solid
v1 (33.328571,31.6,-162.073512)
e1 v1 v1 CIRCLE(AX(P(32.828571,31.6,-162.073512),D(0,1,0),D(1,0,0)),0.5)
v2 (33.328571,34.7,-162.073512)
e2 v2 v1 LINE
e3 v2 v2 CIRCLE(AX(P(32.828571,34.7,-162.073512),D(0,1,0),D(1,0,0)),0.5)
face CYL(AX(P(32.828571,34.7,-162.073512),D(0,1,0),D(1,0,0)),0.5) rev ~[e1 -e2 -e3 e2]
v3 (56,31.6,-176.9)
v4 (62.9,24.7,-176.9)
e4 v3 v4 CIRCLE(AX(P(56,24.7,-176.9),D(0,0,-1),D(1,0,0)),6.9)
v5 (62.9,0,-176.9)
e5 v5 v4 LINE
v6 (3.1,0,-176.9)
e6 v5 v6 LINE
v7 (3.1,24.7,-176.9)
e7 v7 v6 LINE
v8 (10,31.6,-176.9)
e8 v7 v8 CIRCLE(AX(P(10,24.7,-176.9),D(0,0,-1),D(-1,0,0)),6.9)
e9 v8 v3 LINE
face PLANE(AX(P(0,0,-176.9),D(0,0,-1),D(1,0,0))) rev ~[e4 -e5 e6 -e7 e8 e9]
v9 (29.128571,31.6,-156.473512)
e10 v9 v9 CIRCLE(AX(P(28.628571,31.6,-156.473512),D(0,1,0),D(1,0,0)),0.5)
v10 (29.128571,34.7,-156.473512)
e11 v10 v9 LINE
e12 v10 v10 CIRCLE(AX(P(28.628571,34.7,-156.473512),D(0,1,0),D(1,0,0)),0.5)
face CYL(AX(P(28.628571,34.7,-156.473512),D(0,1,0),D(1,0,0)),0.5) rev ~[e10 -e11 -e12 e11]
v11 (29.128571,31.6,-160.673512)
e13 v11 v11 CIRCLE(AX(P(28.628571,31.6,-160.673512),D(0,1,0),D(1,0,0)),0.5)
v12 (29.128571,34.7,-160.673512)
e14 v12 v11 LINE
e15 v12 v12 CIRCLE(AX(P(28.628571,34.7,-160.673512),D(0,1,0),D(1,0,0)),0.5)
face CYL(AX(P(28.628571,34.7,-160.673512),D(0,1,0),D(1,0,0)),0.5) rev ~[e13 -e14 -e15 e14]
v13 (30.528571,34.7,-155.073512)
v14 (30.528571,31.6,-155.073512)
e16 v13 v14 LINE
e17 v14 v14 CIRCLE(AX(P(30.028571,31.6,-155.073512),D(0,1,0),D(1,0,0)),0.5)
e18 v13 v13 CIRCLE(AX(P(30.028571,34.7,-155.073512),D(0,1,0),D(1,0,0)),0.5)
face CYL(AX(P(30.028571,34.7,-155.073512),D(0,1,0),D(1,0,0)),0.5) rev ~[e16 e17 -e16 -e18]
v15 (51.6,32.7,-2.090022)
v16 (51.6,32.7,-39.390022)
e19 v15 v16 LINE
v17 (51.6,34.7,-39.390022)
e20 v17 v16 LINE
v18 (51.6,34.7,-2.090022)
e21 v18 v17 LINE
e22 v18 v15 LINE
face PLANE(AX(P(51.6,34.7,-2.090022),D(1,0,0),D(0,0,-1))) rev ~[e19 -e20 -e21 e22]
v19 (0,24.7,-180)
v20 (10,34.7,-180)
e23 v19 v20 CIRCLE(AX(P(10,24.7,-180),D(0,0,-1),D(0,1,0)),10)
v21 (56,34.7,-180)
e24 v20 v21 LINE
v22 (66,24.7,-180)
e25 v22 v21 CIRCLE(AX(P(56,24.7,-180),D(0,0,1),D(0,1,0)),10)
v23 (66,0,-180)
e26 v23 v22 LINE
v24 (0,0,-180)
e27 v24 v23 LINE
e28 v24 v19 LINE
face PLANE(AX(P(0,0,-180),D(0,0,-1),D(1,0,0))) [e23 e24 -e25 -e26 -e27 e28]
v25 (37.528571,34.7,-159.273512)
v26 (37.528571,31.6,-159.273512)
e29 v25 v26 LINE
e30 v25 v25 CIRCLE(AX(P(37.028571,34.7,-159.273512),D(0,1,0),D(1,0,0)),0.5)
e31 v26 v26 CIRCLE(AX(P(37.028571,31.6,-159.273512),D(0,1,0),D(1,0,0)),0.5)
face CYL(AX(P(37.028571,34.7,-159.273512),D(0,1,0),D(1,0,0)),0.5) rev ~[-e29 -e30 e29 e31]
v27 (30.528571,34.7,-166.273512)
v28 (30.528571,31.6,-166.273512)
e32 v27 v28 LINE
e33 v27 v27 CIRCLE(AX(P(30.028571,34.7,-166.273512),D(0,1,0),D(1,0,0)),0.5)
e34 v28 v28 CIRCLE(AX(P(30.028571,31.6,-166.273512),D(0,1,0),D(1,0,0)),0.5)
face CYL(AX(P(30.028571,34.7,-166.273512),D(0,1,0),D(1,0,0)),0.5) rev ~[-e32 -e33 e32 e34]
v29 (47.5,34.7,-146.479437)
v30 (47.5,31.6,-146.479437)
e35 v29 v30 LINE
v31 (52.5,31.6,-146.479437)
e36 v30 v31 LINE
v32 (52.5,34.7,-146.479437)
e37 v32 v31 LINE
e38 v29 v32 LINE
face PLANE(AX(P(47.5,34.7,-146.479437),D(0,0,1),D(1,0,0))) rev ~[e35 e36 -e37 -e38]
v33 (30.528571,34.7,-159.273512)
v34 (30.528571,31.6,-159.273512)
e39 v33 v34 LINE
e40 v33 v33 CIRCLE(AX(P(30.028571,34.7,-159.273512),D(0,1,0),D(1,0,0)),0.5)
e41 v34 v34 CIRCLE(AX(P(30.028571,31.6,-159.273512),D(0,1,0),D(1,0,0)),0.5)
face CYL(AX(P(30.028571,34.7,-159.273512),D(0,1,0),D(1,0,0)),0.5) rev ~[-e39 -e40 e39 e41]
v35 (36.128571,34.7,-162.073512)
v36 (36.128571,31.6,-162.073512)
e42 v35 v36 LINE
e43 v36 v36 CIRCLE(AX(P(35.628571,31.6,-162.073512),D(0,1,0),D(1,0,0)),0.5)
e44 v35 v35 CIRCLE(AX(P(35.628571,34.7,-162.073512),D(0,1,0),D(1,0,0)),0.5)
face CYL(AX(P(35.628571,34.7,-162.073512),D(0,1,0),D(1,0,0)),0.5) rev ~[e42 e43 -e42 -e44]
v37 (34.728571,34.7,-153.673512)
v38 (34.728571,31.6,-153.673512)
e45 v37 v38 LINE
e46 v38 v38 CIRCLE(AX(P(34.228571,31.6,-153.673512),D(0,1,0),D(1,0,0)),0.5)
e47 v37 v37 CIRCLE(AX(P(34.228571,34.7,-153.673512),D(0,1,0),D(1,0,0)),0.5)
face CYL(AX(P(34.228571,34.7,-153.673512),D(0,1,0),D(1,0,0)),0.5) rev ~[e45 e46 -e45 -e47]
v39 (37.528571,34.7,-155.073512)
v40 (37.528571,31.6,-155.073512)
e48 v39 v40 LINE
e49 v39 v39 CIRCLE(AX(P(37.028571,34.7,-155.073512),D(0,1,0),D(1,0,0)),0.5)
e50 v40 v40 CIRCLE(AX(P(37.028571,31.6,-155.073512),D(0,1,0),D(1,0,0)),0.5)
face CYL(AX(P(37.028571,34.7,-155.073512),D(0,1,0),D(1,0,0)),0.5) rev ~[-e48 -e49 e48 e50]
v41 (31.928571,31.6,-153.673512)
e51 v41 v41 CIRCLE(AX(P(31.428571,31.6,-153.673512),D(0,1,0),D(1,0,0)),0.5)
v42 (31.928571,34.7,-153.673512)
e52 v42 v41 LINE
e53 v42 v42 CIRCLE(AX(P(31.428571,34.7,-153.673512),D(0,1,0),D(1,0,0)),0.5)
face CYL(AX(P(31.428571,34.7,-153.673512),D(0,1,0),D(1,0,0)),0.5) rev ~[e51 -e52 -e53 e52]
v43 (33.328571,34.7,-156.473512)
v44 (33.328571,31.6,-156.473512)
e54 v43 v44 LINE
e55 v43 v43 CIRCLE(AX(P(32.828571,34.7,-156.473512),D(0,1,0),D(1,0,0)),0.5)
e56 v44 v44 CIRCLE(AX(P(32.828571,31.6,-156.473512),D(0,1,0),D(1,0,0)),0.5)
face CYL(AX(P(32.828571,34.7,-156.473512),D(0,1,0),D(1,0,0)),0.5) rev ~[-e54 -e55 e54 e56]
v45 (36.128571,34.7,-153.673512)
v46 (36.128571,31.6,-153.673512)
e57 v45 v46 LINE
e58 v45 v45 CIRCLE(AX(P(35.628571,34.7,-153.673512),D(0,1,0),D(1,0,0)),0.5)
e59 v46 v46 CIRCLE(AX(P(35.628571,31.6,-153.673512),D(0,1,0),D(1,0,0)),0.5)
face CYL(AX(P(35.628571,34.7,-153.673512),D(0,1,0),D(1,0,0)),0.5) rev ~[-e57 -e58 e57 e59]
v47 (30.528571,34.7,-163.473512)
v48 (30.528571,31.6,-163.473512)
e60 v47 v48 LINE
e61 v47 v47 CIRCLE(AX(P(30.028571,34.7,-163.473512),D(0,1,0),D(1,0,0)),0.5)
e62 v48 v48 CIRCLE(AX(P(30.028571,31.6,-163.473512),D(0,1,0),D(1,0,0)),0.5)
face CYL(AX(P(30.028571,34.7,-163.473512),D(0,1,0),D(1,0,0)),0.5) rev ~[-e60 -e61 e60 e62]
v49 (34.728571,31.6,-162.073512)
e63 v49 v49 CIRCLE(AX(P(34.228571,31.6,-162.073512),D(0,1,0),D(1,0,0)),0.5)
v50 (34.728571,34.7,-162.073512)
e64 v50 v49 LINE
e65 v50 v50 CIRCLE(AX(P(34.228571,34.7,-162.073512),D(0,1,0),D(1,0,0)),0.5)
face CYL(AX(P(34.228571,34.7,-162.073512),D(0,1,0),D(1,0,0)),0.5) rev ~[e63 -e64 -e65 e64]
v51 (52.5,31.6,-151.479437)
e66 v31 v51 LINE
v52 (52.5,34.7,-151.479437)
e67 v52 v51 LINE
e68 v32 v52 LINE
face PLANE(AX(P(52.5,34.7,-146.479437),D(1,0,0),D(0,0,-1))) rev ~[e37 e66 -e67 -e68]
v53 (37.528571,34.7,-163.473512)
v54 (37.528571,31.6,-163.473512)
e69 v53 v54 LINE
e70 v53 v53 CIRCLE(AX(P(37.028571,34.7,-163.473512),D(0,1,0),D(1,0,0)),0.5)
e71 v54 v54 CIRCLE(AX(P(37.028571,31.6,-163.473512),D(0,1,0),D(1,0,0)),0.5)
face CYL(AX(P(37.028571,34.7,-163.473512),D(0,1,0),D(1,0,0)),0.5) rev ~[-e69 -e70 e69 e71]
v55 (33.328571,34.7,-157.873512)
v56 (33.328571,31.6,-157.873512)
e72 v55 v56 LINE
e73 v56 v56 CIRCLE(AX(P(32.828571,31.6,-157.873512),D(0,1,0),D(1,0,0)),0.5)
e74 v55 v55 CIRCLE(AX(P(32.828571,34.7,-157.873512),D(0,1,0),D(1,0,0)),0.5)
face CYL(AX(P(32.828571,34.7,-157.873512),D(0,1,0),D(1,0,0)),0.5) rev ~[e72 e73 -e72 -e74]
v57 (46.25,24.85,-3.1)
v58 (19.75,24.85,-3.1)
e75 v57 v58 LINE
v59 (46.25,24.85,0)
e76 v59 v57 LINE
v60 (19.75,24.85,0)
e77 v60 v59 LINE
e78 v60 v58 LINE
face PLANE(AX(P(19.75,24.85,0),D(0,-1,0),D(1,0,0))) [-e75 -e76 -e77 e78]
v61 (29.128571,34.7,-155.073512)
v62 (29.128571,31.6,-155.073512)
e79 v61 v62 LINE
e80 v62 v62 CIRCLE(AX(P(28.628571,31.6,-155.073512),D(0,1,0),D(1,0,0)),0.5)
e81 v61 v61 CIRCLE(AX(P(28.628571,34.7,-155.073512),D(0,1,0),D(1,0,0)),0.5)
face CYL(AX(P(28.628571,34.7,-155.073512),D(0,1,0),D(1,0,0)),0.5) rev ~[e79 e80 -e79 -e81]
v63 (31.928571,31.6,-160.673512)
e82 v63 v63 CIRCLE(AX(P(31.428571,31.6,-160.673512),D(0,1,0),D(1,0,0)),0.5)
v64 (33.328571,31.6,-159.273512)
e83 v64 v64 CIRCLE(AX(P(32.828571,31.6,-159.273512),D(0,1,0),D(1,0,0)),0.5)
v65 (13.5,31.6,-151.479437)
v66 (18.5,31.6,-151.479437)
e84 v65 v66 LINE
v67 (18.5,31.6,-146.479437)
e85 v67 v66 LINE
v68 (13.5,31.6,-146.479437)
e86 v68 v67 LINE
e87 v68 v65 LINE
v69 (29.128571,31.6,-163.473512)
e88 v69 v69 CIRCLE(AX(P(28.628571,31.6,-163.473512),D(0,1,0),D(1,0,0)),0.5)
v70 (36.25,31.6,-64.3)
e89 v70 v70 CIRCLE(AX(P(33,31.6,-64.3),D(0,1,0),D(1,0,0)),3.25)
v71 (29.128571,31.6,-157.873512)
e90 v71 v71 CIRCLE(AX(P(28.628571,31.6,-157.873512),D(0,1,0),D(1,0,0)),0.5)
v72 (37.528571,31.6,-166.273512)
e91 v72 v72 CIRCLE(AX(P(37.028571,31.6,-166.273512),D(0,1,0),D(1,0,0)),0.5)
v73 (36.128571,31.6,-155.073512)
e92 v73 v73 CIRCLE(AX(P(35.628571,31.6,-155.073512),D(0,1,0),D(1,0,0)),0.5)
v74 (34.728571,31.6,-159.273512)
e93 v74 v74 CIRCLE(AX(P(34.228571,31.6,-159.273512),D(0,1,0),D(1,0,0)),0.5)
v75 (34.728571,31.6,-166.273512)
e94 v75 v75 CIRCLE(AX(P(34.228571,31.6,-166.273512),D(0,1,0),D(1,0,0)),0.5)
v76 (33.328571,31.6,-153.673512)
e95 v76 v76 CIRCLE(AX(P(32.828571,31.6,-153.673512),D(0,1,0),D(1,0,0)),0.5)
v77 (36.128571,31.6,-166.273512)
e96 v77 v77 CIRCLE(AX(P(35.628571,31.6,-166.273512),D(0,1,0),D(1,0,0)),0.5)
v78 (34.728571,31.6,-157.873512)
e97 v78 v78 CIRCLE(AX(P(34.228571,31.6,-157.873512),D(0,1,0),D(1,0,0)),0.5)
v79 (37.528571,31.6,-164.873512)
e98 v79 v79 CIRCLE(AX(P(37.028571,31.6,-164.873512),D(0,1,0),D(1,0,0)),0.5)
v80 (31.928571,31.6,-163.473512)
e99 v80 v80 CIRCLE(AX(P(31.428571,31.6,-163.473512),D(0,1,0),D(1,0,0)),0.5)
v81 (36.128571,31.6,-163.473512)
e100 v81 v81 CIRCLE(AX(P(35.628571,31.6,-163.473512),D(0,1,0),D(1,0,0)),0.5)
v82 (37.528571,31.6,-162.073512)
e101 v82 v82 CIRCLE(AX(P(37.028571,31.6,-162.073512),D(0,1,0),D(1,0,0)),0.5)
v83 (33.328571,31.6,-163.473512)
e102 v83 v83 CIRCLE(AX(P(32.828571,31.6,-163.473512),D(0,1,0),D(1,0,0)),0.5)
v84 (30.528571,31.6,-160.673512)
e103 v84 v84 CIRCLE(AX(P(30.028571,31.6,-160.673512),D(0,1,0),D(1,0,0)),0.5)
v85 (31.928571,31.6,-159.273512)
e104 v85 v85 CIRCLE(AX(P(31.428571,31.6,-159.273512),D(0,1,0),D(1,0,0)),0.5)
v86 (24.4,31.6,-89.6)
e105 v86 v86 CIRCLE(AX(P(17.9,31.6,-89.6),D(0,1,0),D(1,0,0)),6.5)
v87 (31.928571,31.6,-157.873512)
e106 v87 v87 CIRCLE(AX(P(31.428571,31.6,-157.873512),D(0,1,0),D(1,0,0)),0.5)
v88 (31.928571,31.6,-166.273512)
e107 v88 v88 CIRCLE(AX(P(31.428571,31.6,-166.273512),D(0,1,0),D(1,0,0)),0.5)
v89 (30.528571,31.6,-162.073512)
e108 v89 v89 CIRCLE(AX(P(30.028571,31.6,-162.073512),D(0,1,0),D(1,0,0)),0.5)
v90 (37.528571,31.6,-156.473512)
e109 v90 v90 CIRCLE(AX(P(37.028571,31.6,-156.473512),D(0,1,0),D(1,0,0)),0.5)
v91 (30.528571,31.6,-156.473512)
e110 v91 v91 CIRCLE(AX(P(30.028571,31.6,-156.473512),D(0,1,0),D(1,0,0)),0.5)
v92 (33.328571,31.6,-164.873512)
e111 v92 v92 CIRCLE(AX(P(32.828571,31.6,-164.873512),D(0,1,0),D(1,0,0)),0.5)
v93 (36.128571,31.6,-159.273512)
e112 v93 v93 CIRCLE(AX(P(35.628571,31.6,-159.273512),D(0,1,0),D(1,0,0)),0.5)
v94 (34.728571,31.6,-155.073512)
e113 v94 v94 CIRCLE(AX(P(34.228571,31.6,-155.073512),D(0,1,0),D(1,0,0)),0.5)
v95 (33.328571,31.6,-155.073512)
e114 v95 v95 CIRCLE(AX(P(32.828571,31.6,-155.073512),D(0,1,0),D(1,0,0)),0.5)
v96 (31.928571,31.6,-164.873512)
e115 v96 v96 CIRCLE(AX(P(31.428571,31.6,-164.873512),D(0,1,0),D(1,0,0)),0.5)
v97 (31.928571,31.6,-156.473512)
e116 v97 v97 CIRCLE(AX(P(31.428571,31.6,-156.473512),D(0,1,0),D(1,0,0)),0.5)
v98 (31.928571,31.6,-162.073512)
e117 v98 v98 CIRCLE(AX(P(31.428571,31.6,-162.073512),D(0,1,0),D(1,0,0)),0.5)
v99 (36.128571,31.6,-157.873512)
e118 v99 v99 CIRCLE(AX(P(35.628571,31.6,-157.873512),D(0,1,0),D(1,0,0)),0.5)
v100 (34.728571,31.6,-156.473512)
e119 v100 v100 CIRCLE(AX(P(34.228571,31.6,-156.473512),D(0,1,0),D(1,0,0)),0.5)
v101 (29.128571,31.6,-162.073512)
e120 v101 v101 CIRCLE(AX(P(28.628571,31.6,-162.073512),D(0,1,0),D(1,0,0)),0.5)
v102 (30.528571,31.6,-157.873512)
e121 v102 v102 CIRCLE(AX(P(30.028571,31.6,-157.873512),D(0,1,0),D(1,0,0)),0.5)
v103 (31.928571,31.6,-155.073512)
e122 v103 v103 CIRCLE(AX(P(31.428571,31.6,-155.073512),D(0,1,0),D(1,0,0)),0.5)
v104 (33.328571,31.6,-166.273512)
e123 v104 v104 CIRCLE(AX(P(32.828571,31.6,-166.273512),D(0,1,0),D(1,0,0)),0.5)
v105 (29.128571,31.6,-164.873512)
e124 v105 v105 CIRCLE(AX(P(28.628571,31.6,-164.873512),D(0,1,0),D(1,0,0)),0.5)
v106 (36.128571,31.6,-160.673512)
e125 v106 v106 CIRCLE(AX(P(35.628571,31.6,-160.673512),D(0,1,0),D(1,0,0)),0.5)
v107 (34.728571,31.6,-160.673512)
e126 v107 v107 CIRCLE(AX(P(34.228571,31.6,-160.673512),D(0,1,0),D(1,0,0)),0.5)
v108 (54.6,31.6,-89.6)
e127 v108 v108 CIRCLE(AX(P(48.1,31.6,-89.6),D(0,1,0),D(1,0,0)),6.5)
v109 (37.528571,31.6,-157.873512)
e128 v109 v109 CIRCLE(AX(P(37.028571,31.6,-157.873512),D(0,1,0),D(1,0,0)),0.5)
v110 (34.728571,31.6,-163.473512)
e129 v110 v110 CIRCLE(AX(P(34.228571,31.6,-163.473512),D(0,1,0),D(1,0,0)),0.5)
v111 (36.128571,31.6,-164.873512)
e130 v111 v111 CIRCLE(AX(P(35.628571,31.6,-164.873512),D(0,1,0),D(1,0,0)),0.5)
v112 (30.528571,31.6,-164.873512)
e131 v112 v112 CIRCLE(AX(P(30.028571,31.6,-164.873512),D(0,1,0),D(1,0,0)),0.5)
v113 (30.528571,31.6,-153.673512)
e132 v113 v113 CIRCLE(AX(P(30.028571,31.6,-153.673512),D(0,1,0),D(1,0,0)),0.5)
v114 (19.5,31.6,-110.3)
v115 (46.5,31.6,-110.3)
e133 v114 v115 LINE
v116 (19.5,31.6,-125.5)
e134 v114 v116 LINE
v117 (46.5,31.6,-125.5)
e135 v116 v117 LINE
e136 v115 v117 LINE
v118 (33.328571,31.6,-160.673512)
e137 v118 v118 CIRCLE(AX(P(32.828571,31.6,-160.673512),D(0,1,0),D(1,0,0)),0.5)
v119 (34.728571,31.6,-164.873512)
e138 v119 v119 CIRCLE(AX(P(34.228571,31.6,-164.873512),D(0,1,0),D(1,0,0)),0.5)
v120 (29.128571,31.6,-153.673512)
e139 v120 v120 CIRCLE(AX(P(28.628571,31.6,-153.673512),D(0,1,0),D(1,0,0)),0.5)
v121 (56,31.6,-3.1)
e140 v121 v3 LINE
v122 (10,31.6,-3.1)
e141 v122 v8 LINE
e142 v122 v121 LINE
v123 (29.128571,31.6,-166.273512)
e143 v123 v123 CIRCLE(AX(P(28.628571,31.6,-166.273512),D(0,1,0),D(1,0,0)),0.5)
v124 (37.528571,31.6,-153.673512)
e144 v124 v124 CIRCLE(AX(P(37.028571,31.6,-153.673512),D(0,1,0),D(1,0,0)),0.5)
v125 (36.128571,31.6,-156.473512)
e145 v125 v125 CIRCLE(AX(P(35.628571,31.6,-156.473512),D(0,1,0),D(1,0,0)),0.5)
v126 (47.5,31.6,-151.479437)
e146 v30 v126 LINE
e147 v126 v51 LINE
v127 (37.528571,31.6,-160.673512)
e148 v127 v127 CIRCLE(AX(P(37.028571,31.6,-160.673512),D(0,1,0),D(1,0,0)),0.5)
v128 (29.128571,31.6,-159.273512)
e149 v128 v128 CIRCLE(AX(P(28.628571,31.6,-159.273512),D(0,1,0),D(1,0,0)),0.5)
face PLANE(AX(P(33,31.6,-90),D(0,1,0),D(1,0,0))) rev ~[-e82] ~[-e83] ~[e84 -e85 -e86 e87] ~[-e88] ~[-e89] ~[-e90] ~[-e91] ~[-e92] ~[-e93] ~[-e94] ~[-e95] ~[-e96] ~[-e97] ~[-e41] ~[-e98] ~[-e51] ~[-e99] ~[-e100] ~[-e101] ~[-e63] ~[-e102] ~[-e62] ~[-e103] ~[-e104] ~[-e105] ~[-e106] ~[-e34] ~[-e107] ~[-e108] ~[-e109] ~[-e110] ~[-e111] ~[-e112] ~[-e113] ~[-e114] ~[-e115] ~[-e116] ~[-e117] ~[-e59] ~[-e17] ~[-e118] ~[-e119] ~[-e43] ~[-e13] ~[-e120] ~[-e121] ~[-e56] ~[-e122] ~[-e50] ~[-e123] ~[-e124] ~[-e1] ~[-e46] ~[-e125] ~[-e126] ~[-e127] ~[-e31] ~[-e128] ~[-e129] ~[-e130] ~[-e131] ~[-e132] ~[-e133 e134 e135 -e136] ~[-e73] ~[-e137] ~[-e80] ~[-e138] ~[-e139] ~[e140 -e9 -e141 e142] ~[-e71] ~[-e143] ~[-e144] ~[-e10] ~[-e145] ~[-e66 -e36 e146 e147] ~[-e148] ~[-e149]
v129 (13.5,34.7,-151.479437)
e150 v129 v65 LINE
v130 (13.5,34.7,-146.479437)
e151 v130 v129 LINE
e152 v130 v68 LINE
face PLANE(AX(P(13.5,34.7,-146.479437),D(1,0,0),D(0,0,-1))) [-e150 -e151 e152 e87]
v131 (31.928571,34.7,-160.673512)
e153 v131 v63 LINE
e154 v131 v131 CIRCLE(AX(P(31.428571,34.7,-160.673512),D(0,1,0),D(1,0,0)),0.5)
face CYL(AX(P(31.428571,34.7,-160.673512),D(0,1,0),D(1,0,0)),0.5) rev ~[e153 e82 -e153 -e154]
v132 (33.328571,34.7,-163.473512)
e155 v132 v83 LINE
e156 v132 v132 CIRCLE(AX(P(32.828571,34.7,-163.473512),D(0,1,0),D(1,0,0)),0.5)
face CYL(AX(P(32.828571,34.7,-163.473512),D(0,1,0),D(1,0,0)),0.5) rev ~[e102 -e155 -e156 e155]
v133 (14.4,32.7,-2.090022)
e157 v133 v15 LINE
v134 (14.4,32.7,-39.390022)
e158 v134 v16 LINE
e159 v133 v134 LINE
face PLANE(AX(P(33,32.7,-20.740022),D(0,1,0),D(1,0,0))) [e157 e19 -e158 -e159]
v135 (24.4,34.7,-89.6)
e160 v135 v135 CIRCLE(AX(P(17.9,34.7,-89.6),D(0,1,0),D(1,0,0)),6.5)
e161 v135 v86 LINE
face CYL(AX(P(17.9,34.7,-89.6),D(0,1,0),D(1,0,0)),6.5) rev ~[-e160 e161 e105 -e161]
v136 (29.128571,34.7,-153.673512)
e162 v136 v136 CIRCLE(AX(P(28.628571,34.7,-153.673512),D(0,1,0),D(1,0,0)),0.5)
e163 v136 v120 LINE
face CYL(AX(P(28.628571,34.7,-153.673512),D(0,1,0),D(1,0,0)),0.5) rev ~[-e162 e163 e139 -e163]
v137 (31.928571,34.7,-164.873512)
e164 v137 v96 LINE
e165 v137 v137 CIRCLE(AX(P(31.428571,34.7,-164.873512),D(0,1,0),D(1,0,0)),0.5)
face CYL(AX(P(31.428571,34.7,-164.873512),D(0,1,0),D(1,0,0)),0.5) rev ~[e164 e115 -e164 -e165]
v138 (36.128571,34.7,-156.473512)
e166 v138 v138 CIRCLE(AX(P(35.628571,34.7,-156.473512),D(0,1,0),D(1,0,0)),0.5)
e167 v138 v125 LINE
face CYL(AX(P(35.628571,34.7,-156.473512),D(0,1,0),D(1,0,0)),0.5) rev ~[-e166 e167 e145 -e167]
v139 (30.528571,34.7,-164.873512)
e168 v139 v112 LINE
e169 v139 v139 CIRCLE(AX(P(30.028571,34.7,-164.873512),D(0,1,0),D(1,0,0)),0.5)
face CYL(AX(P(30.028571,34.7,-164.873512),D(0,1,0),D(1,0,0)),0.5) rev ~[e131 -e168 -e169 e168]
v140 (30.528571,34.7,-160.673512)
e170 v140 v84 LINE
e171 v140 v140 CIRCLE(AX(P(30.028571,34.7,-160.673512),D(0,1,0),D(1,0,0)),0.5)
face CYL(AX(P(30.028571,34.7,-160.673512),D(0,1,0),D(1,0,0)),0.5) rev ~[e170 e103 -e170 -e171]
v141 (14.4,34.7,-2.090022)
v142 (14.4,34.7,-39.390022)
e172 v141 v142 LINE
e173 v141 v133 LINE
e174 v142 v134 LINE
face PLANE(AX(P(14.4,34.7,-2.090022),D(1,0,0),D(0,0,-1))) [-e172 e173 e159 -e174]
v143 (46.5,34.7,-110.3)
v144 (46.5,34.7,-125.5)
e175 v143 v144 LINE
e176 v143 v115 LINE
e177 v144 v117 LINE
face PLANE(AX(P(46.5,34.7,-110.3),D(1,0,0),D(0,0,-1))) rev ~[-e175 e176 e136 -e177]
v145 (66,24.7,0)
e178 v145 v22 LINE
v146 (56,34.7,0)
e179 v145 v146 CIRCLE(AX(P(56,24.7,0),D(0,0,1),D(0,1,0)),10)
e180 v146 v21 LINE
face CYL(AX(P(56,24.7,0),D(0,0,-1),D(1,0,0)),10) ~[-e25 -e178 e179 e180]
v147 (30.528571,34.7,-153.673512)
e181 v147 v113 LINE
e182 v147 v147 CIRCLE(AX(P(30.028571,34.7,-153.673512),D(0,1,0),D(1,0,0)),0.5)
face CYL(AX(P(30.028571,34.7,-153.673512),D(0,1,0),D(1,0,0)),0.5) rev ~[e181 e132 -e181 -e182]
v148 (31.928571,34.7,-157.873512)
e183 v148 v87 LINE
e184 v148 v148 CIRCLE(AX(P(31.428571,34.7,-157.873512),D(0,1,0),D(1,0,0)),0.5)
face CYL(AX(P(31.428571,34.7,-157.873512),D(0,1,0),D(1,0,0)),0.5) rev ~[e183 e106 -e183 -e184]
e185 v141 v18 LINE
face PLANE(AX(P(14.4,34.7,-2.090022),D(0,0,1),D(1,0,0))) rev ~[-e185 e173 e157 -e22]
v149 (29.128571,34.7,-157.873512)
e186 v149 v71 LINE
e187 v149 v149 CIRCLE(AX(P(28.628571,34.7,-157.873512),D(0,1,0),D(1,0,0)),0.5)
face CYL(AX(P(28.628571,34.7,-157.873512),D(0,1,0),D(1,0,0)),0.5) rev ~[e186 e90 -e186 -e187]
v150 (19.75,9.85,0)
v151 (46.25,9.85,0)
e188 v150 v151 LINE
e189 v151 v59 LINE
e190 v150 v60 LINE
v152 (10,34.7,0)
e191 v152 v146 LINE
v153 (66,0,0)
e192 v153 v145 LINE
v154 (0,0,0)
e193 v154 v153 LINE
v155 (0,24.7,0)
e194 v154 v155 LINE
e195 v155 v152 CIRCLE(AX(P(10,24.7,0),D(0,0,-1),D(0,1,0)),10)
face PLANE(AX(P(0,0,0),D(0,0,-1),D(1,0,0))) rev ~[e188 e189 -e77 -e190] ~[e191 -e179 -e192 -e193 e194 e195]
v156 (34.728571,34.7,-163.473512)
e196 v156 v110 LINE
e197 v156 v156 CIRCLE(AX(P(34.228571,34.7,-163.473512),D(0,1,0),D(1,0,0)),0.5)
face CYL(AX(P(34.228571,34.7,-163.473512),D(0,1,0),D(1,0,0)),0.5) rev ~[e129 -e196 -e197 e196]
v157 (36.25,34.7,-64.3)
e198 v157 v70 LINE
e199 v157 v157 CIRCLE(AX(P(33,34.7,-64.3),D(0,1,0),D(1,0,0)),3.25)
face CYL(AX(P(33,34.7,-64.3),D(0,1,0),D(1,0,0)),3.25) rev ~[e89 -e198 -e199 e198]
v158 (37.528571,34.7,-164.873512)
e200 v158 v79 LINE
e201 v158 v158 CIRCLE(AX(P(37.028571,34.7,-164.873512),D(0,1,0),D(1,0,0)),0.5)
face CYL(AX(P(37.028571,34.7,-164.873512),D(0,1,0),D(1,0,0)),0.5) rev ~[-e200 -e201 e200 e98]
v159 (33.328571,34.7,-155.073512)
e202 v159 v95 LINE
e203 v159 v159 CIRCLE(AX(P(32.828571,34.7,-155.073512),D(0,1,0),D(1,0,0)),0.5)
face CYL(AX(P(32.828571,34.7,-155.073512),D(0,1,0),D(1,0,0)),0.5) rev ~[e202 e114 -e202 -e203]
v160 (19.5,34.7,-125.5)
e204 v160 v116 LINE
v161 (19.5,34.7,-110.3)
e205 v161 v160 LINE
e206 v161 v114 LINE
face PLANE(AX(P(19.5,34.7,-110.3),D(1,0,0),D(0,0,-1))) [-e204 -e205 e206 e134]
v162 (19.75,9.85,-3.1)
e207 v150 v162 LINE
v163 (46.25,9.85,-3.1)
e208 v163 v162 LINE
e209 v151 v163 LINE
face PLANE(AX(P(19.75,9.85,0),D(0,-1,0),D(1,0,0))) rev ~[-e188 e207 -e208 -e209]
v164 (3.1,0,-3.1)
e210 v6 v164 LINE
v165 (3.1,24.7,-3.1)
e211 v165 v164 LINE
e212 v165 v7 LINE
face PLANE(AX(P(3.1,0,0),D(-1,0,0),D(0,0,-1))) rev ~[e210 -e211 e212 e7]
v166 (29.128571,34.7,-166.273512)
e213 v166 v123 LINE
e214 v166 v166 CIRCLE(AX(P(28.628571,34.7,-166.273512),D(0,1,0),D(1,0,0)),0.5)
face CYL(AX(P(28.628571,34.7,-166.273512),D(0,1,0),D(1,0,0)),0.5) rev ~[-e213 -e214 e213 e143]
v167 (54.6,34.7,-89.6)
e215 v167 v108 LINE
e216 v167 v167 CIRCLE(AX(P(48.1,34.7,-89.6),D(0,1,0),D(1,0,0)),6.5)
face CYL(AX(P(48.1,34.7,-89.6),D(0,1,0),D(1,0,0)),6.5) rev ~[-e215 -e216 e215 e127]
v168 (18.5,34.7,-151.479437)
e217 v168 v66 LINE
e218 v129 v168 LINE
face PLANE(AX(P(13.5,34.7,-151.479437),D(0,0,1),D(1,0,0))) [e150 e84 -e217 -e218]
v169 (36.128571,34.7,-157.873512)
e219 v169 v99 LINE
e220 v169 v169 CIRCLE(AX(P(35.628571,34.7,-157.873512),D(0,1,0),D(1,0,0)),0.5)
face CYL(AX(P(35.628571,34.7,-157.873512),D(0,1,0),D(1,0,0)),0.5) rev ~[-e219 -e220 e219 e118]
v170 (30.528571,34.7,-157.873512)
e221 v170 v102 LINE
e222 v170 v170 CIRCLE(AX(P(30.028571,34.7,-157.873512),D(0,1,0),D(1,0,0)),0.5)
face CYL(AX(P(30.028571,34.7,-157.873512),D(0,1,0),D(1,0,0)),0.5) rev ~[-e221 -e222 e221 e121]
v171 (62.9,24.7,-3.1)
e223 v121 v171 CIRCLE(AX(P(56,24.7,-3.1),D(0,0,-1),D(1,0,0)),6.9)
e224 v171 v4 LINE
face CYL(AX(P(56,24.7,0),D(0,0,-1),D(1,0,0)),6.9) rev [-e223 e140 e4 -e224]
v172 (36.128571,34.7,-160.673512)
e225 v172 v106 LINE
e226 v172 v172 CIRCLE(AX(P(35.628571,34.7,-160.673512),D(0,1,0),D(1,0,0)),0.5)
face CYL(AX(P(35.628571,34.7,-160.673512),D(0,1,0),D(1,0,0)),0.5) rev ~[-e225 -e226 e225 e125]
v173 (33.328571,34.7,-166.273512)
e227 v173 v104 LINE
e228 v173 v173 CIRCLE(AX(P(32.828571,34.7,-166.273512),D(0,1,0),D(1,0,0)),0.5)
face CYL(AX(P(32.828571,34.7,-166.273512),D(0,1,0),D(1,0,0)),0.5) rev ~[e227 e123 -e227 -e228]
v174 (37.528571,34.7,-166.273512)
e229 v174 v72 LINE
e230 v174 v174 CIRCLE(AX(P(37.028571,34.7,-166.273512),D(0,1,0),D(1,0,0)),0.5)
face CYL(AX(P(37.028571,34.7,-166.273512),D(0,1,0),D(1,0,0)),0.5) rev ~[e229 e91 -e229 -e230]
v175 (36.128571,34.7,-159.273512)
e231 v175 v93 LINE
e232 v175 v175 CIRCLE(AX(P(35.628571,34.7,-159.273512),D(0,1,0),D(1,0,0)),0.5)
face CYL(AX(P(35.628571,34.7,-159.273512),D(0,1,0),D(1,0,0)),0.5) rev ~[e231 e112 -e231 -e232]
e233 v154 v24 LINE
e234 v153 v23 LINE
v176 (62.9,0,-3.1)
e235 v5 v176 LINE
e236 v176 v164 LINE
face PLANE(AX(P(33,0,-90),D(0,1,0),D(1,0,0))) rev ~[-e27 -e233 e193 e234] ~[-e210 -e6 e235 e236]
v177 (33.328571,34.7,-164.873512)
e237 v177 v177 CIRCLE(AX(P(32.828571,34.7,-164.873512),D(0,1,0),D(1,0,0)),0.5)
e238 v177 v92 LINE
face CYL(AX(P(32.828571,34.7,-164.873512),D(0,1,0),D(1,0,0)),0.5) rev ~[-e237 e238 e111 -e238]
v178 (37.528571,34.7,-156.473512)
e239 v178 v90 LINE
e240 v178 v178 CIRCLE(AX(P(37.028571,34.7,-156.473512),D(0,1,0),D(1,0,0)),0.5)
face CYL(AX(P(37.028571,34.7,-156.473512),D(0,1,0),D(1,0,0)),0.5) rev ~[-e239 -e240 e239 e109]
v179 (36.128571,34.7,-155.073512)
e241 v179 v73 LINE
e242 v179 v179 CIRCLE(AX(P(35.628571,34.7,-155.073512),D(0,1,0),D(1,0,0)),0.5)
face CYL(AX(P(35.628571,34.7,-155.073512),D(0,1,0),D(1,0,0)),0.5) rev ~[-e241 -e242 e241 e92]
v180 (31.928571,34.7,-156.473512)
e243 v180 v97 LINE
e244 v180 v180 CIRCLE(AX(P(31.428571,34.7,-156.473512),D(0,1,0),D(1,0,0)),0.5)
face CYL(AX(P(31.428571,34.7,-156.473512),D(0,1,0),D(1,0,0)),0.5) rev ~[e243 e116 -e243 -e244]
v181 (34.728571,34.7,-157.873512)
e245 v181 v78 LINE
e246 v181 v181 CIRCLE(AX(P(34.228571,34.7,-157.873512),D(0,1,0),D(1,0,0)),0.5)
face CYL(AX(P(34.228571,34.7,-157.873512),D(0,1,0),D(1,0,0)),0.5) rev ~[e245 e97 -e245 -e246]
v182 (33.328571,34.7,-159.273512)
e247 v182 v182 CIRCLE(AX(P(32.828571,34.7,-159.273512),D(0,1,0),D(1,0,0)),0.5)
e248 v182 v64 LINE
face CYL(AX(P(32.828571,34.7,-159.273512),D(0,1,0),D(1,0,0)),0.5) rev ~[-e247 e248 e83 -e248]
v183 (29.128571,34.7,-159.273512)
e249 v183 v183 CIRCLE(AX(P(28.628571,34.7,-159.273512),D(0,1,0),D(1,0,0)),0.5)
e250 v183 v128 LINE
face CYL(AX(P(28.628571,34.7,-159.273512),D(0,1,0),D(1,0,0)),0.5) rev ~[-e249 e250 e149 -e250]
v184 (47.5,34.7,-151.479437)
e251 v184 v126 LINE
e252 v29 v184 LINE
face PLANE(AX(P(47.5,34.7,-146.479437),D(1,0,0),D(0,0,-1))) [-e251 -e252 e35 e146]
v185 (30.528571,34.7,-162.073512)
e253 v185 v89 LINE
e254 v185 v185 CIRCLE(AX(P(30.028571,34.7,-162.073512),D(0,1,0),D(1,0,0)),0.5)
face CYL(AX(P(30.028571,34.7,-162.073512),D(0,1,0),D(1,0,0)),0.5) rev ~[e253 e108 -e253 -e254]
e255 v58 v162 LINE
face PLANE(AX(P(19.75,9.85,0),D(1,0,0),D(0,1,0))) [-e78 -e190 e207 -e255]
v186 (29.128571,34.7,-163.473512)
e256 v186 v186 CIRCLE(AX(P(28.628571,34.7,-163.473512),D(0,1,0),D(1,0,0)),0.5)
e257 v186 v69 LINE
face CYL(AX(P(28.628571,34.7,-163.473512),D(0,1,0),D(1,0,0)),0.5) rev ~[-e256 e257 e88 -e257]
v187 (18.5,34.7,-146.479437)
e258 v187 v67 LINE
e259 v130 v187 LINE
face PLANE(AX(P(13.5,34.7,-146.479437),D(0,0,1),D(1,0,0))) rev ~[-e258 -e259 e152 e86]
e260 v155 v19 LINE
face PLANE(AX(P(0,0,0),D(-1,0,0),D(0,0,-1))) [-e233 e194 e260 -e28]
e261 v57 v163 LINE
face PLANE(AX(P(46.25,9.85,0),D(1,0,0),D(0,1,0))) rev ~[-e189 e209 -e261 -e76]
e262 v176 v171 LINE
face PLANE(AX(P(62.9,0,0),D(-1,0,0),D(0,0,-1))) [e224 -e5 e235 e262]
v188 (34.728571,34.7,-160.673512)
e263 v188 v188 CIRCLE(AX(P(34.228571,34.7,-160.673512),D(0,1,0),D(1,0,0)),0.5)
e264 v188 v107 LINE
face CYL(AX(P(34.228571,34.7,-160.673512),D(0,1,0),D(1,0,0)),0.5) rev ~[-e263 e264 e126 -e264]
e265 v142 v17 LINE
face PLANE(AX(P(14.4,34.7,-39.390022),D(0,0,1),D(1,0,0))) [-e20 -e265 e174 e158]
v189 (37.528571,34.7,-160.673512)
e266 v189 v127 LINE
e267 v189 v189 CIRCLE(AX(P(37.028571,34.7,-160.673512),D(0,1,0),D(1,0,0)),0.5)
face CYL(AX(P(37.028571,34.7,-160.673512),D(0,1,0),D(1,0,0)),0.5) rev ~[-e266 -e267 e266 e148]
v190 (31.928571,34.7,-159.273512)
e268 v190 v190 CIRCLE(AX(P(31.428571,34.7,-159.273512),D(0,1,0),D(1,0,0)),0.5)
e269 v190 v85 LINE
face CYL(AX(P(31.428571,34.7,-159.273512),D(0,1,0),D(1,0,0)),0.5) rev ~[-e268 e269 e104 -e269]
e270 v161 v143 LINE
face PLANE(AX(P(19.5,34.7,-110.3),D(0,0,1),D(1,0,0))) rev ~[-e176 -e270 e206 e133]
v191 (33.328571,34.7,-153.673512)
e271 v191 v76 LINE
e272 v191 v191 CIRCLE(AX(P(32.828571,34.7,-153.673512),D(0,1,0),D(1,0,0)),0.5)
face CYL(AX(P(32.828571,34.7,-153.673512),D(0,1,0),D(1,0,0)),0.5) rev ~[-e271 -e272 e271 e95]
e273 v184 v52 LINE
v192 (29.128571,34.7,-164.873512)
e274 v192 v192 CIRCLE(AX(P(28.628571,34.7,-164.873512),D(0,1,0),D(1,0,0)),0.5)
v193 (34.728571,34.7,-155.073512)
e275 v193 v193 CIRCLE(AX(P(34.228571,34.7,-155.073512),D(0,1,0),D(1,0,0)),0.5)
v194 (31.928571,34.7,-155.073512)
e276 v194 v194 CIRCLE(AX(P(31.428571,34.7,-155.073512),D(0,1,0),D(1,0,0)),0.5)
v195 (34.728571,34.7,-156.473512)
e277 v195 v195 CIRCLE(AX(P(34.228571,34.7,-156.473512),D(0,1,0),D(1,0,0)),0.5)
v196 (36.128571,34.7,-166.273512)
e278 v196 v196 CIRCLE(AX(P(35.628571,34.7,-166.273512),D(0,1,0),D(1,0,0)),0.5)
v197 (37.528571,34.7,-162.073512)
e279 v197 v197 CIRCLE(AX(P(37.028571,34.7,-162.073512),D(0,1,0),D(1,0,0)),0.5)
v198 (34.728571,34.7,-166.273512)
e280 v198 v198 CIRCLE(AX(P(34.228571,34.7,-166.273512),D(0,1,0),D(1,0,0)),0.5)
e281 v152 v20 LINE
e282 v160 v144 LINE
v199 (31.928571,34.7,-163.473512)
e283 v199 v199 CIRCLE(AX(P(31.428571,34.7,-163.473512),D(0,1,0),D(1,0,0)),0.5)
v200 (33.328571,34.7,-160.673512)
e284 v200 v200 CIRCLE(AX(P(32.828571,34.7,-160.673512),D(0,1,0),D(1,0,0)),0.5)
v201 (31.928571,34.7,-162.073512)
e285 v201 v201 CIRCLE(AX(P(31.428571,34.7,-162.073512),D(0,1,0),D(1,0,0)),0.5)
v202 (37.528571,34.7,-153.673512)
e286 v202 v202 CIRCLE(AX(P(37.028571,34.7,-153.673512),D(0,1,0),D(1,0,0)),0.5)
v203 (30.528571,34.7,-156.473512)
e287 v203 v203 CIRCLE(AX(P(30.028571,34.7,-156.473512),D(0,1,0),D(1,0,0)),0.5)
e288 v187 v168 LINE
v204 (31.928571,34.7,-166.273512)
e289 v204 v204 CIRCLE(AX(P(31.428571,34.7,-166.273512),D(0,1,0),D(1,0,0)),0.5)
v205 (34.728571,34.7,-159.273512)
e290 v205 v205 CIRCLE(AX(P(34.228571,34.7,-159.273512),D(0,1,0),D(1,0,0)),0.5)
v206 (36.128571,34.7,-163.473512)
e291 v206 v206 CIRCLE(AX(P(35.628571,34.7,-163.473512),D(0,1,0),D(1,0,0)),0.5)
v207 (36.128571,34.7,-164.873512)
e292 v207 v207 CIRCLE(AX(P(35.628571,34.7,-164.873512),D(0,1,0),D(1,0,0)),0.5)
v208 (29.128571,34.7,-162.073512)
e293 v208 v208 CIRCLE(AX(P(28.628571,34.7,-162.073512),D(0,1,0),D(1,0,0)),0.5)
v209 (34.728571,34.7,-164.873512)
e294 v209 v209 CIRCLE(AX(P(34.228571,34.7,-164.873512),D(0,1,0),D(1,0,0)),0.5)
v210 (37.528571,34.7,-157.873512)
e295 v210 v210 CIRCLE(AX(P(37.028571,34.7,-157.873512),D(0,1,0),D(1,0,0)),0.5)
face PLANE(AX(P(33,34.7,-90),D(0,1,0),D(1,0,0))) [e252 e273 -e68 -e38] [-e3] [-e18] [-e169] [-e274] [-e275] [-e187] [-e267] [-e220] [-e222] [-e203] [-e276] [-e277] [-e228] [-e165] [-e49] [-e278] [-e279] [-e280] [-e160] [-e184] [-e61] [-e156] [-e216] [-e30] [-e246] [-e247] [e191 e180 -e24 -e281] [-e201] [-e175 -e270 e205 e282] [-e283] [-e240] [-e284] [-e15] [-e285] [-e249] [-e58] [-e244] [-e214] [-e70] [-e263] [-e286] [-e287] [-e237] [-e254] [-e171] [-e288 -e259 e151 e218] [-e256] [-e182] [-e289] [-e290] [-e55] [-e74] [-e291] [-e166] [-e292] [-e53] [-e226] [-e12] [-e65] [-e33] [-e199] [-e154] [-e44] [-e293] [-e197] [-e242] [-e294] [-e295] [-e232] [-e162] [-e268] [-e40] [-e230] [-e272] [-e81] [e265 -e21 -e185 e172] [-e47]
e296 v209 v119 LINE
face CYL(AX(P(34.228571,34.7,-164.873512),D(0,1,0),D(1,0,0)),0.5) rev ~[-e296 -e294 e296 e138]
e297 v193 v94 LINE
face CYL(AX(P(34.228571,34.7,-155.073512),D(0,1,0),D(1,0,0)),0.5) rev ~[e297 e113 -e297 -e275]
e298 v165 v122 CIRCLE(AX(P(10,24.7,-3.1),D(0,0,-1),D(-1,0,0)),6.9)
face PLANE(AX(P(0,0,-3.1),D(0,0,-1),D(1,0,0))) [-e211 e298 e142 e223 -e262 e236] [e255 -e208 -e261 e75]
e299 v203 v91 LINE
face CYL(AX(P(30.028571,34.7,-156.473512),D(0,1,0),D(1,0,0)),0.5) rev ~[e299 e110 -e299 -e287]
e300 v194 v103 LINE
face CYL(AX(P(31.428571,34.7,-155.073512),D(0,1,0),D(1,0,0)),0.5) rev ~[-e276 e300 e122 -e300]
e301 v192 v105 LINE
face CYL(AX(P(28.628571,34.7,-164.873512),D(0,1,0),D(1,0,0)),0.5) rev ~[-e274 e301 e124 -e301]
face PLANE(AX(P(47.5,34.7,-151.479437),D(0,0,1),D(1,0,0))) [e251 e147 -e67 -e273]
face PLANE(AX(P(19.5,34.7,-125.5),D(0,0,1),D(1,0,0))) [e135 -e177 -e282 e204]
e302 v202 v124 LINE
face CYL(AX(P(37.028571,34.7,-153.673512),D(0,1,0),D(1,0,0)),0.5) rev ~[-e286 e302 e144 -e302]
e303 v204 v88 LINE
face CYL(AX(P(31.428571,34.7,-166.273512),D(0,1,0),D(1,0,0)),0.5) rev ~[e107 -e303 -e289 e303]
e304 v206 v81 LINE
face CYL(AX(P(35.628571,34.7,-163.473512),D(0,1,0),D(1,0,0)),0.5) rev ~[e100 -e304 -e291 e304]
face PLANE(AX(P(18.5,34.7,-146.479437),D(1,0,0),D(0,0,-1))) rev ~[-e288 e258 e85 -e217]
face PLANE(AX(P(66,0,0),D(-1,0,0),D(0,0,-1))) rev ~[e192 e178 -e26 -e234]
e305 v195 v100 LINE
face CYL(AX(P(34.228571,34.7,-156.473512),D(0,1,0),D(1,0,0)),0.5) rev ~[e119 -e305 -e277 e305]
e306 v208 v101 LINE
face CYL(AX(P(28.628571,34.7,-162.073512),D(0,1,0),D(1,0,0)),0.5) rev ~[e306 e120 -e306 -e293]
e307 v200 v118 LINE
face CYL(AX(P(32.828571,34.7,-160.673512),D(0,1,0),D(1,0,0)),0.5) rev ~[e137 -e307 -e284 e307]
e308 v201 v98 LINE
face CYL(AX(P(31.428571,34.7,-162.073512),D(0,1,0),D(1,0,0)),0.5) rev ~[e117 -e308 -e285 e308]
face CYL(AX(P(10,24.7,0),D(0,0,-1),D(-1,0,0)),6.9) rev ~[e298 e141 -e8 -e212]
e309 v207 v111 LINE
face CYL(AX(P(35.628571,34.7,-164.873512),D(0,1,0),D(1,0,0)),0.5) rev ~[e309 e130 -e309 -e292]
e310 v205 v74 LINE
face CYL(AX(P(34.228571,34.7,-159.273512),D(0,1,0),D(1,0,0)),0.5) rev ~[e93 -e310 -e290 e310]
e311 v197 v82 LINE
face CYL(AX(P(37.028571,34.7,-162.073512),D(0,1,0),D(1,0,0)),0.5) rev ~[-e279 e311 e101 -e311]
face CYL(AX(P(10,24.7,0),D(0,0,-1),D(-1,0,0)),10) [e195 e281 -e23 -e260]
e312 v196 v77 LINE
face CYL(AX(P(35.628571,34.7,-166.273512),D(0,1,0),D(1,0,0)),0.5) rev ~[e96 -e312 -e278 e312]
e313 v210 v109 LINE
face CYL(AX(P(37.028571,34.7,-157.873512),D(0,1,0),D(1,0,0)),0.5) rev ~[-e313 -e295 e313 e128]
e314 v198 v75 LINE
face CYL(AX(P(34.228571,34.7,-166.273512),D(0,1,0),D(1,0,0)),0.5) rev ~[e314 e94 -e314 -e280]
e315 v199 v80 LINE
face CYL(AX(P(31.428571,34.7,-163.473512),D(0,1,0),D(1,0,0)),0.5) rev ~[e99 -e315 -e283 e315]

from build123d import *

# Parameters (mm, degrees)
SKETCH1_W           = 66
SKETCH1_H           = 180
BOSS_EXTRUDE1_DEPTH = 34.7
FILLET1_R           = 10
SHELL1_T            = -3.1
SKETCH4_R           = 6.5
CUT_EXTRUDE4_DEPTH  = 35.7
SKETCH2_R           = 3.25
CUT_EXTRUDE5_DEPTH  = 35.7
SKETCH5_W           = 27
SKETCH5_H           = 15.2
CUT_EXTRUDE6_DEPTH  = 35.7
SKETCH6_W           = 5
SKETCH6_H           = 5
CUT_EXTRUDE10_DEPTH = 35.7
SKETCH31_R          = 0.5
CUT_EXTRUDE11_DEPTH = 35.7
SKETCH3_W           = 37.2
SKETCH3_H           = 37.3
CUT_EXTRUDE14_DEPTH = 2
SKETCH32_W          = 26.5
SKETCH32_H          = 15
CUT_EXTRUDE16_DEPTH = 5


with BuildPart() as part:
    # Sketch1 → Boss-Extrude1 (new body)
    with BuildSketch(Plane(origin=(0, 0, 0), x_dir=(1, 0, 0), z_dir=(0, 1, 0))):
        with Locations((33, 90)):
            Rectangle(SKETCH1_W, SKETCH1_H)
    extrude(amount=BOSS_EXTRUDE1_DEPTH)

    # Fillet1
    fillet1_edges = [part.edges().sort_by_distance(p)[0] for p in [
        (66, 34.7, -90),
        (0, 34.7, -90),
    ]]
    fillet(fillet1_edges, radius=FILLET1_R)

    # Shell1
    shell1_openings = [part.faces().sort_by_distance(p)[0] for p in [
        (33, 0, -90),
    ]]
    offset(amount=SHELL1_T, openings=shell1_openings, kind=Kind.INTERSECTION)

    # Sketch4 → Cut-Extrude4 (cut, through all)
    with BuildSketch(Plane(origin=(0, 34.7, 0), x_dir=(1, 0, 0), z_dir=(0, 1, 0))):
        with Locations((48.1, 89.6)):
            Circle(SKETCH4_R)
        with Locations((17.9, 89.6)):
            Circle(SKETCH4_R)
    extrude(amount=-CUT_EXTRUDE4_DEPTH, mode=Mode.SUBTRACT)

    # Sketch2 → Cut-Extrude5 (cut, through all)
    with BuildSketch(Plane(origin=(0, 34.7, 0), x_dir=(1, 0, 0), z_dir=(0, 1, 0))):
        with Locations((33, 64.3)):
            Circle(SKETCH2_R)
    extrude(amount=-CUT_EXTRUDE5_DEPTH, mode=Mode.SUBTRACT)

    # Sketch5 → Cut-Extrude6 (cut, through all)
    with BuildSketch(Plane(origin=(0, 34.7, 0), x_dir=(1, 0, 0), z_dir=(0, 1, 0))):
        with Locations((33, 117.9)):
            Rectangle(SKETCH5_W, SKETCH5_H)
    extrude(amount=-CUT_EXTRUDE6_DEPTH, mode=Mode.SUBTRACT)

    # Sketch6 → Cut-Extrude10 (cut, through all)
    with BuildSketch(Plane(origin=(0, 34.7, 0), x_dir=(1, 0, 0), z_dir=(0, 1, 0))):
        with Locations((50, 148.979436507)):
            Rectangle(SKETCH6_W, SKETCH6_H)
        with Locations((16, 148.979436507)):
            Rectangle(SKETCH6_W, SKETCH6_H)
    extrude(amount=-CUT_EXTRUDE10_DEPTH, mode=Mode.SUBTRACT)

    # Sketch31 → Cut-Extrude11 (cut, through all)
    with BuildSketch(Plane(origin=(0, 34.7, 0), x_dir=(1, 0, 0), z_dir=(0, 1, 0))):
        with Locations((28.628571429, 166.273512362)):
            Circle(SKETCH31_R)
        with Locations((30.028571429, 166.273512362)):
            Circle(SKETCH31_R)
        with Locations((31.428571429, 166.273512362)):
            Circle(SKETCH31_R)
        with Locations((32.828571429, 166.273512362)):
            Circle(SKETCH31_R)
        with Locations((34.228571429, 166.273512362)):
            Circle(SKETCH31_R)
        with Locations((35.628571429, 166.273512362)):
            Circle(SKETCH31_R)
        with Locations((37.028571429, 166.273512362)):
            Circle(SKETCH31_R)
        with Locations((30.028571429, 164.873512362)):
            Circle(SKETCH31_R)
        with Locations((31.428571429, 164.873512362)):
            Circle(SKETCH31_R)
        with Locations((32.828571429, 164.873512362)):
            Circle(SKETCH31_R)
        with Locations((34.228571429, 164.873512362)):
            Circle(SKETCH31_R)
        with Locations((35.628571429, 164.873512362)):
            Circle(SKETCH31_R)
        with Locations((37.028571429, 164.873512362)):
            Circle(SKETCH31_R)
        with Locations((30.028571429, 163.473512362)):
            Circle(SKETCH31_R)
        with Locations((31.428571429, 163.473512362)):
            Circle(SKETCH31_R)
        with Locations((32.828571429, 163.473512362)):
            Circle(SKETCH31_R)
        with Locations((34.228571429, 163.473512362)):
            Circle(SKETCH31_R)
        with Locations((35.628571429, 163.473512362)):
            Circle(SKETCH31_R)
        with Locations((37.028571429, 163.473512362)):
            Circle(SKETCH31_R)
        with Locations((30.028571429, 162.073512362)):
            Circle(SKETCH31_R)
        with Locations((31.428571429, 162.073512362)):
            Circle(SKETCH31_R)
        with Locations((32.828571429, 162.073512362)):
            Circle(SKETCH31_R)
        with Locations((34.228571429, 162.073512362)):
            Circle(SKETCH31_R)
        with Locations((35.628571429, 162.073512362)):
            Circle(SKETCH31_R)
        with Locations((37.028571429, 162.073512362)):
            Circle(SKETCH31_R)
        with Locations((30.028571429, 160.673512362)):
            Circle(SKETCH31_R)
        with Locations((31.428571429, 160.673512362)):
            Circle(SKETCH31_R)
        with Locations((32.828571429, 160.673512362)):
            Circle(SKETCH31_R)
        with Locations((34.228571429, 160.673512362)):
            Circle(SKETCH31_R)
        with Locations((35.628571429, 160.673512362)):
            Circle(SKETCH31_R)
        with Locations((37.028571429, 160.673512362)):
            Circle(SKETCH31_R)
        with Locations((30.028571429, 159.273512362)):
            Circle(SKETCH31_R)
        with Locations((31.428571429, 159.273512362)):
            Circle(SKETCH31_R)
        with Locations((32.828571429, 159.273512362)):
            Circle(SKETCH31_R)
        with Locations((34.228571429, 159.273512362)):
            Circle(SKETCH31_R)
        with Locations((35.628571429, 159.273512362)):
            Circle(SKETCH31_R)
        with Locations((37.028571429, 159.273512362)):
            Circle(SKETCH31_R)
        with Locations((30.028571429, 157.873512362)):
            Circle(SKETCH31_R)
        with Locations((31.428571429, 157.873512362)):
            Circle(SKETCH31_R)
        with Locations((32.828571429, 157.873512362)):
            Circle(SKETCH31_R)
        with Locations((34.228571429, 157.873512362)):
            Circle(SKETCH31_R)
        with Locations((35.628571429, 157.873512362)):
            Circle(SKETCH31_R)
        with Locations((37.028571429, 157.873512362)):
            Circle(SKETCH31_R)
        with Locations((30.028571429, 156.473512362)):
            Circle(SKETCH31_R)
        with Locations((31.428571429, 156.473512362)):
            Circle(SKETCH31_R)
        with Locations((32.828571429, 156.473512362)):
            Circle(SKETCH31_R)
        with Locations((34.228571429, 156.473512362)):
            Circle(SKETCH31_R)
        with Locations((35.628571429, 156.473512362)):
            Circle(SKETCH31_R)
        with Locations((37.028571429, 156.473512362)):
            Circle(SKETCH31_R)
        with Locations((30.028571429, 155.073512362)):
            Circle(SKETCH31_R)
        with Locations((31.428571429, 155.073512362)):
            Circle(SKETCH31_R)
        with Locations((32.828571429, 155.073512362)):
            Circle(SKETCH31_R)
        with Locations((34.228571429, 155.073512362)):
            Circle(SKETCH31_R)
        with Locations((35.628571429, 155.073512362)):
            Circle(SKETCH31_R)
        with Locations((37.028571429, 155.073512362)):
            Circle(SKETCH31_R)
        with Locations((30.028571429, 153.673512362)):
            Circle(SKETCH31_R)
        with Locations((31.428571429, 153.673512362)):
            Circle(SKETCH31_R)
        with Locations((32.828571429, 153.673512362)):
            Circle(SKETCH31_R)
        with Locations((34.228571429, 153.673512362)):
            Circle(SKETCH31_R)
        with Locations((35.628571429, 153.673512362)):
            Circle(SKETCH31_R)
        with Locations((37.028571429, 153.673512362)):
            Circle(SKETCH31_R)
        with Locations((28.628571429, 164.873512362)):
            Circle(SKETCH31_R)
        with Locations((28.628571429, 163.473512362)):
            Circle(SKETCH31_R)
        with Locations((28.628571429, 162.073512362)):
            Circle(SKETCH31_R)
        with Locations((28.628571429, 160.673512362)):
            Circle(SKETCH31_R)
        with Locations((28.628571429, 159.273512362)):
            Circle(SKETCH31_R)
        with Locations((28.628571429, 157.873512362)):
            Circle(SKETCH31_R)
        with Locations((28.628571429, 156.473512362)):
            Circle(SKETCH31_R)
        with Locations((28.628571429, 155.073512362)):
            Circle(SKETCH31_R)
        with Locations((28.628571429, 153.673512362)):
            Circle(SKETCH31_R)
    extrude(amount=-CUT_EXTRUDE11_DEPTH, mode=Mode.SUBTRACT)

    # Sketch3 → Cut-Extrude14 (cut)
    with BuildSketch(Plane(origin=(0, 34.7, 0), x_dir=(1, 0, 0), z_dir=(0, 1, 0))):
        with Locations((33, 20.740021927)):
            Rectangle(SKETCH3_W, SKETCH3_H)
    extrude(amount=-CUT_EXTRUDE14_DEPTH, mode=Mode.SUBTRACT)

    # Sketch32 → Cut-Extrude16 (cut)
    with BuildSketch(Plane.XY):
        with Locations((33, 17.35)):
            Rectangle(SKETCH32_W, SKETCH32_H)
    extrude(amount=-CUT_EXTRUDE16_DEPTH, mode=Mode.SUBTRACT)


solid = part.part
